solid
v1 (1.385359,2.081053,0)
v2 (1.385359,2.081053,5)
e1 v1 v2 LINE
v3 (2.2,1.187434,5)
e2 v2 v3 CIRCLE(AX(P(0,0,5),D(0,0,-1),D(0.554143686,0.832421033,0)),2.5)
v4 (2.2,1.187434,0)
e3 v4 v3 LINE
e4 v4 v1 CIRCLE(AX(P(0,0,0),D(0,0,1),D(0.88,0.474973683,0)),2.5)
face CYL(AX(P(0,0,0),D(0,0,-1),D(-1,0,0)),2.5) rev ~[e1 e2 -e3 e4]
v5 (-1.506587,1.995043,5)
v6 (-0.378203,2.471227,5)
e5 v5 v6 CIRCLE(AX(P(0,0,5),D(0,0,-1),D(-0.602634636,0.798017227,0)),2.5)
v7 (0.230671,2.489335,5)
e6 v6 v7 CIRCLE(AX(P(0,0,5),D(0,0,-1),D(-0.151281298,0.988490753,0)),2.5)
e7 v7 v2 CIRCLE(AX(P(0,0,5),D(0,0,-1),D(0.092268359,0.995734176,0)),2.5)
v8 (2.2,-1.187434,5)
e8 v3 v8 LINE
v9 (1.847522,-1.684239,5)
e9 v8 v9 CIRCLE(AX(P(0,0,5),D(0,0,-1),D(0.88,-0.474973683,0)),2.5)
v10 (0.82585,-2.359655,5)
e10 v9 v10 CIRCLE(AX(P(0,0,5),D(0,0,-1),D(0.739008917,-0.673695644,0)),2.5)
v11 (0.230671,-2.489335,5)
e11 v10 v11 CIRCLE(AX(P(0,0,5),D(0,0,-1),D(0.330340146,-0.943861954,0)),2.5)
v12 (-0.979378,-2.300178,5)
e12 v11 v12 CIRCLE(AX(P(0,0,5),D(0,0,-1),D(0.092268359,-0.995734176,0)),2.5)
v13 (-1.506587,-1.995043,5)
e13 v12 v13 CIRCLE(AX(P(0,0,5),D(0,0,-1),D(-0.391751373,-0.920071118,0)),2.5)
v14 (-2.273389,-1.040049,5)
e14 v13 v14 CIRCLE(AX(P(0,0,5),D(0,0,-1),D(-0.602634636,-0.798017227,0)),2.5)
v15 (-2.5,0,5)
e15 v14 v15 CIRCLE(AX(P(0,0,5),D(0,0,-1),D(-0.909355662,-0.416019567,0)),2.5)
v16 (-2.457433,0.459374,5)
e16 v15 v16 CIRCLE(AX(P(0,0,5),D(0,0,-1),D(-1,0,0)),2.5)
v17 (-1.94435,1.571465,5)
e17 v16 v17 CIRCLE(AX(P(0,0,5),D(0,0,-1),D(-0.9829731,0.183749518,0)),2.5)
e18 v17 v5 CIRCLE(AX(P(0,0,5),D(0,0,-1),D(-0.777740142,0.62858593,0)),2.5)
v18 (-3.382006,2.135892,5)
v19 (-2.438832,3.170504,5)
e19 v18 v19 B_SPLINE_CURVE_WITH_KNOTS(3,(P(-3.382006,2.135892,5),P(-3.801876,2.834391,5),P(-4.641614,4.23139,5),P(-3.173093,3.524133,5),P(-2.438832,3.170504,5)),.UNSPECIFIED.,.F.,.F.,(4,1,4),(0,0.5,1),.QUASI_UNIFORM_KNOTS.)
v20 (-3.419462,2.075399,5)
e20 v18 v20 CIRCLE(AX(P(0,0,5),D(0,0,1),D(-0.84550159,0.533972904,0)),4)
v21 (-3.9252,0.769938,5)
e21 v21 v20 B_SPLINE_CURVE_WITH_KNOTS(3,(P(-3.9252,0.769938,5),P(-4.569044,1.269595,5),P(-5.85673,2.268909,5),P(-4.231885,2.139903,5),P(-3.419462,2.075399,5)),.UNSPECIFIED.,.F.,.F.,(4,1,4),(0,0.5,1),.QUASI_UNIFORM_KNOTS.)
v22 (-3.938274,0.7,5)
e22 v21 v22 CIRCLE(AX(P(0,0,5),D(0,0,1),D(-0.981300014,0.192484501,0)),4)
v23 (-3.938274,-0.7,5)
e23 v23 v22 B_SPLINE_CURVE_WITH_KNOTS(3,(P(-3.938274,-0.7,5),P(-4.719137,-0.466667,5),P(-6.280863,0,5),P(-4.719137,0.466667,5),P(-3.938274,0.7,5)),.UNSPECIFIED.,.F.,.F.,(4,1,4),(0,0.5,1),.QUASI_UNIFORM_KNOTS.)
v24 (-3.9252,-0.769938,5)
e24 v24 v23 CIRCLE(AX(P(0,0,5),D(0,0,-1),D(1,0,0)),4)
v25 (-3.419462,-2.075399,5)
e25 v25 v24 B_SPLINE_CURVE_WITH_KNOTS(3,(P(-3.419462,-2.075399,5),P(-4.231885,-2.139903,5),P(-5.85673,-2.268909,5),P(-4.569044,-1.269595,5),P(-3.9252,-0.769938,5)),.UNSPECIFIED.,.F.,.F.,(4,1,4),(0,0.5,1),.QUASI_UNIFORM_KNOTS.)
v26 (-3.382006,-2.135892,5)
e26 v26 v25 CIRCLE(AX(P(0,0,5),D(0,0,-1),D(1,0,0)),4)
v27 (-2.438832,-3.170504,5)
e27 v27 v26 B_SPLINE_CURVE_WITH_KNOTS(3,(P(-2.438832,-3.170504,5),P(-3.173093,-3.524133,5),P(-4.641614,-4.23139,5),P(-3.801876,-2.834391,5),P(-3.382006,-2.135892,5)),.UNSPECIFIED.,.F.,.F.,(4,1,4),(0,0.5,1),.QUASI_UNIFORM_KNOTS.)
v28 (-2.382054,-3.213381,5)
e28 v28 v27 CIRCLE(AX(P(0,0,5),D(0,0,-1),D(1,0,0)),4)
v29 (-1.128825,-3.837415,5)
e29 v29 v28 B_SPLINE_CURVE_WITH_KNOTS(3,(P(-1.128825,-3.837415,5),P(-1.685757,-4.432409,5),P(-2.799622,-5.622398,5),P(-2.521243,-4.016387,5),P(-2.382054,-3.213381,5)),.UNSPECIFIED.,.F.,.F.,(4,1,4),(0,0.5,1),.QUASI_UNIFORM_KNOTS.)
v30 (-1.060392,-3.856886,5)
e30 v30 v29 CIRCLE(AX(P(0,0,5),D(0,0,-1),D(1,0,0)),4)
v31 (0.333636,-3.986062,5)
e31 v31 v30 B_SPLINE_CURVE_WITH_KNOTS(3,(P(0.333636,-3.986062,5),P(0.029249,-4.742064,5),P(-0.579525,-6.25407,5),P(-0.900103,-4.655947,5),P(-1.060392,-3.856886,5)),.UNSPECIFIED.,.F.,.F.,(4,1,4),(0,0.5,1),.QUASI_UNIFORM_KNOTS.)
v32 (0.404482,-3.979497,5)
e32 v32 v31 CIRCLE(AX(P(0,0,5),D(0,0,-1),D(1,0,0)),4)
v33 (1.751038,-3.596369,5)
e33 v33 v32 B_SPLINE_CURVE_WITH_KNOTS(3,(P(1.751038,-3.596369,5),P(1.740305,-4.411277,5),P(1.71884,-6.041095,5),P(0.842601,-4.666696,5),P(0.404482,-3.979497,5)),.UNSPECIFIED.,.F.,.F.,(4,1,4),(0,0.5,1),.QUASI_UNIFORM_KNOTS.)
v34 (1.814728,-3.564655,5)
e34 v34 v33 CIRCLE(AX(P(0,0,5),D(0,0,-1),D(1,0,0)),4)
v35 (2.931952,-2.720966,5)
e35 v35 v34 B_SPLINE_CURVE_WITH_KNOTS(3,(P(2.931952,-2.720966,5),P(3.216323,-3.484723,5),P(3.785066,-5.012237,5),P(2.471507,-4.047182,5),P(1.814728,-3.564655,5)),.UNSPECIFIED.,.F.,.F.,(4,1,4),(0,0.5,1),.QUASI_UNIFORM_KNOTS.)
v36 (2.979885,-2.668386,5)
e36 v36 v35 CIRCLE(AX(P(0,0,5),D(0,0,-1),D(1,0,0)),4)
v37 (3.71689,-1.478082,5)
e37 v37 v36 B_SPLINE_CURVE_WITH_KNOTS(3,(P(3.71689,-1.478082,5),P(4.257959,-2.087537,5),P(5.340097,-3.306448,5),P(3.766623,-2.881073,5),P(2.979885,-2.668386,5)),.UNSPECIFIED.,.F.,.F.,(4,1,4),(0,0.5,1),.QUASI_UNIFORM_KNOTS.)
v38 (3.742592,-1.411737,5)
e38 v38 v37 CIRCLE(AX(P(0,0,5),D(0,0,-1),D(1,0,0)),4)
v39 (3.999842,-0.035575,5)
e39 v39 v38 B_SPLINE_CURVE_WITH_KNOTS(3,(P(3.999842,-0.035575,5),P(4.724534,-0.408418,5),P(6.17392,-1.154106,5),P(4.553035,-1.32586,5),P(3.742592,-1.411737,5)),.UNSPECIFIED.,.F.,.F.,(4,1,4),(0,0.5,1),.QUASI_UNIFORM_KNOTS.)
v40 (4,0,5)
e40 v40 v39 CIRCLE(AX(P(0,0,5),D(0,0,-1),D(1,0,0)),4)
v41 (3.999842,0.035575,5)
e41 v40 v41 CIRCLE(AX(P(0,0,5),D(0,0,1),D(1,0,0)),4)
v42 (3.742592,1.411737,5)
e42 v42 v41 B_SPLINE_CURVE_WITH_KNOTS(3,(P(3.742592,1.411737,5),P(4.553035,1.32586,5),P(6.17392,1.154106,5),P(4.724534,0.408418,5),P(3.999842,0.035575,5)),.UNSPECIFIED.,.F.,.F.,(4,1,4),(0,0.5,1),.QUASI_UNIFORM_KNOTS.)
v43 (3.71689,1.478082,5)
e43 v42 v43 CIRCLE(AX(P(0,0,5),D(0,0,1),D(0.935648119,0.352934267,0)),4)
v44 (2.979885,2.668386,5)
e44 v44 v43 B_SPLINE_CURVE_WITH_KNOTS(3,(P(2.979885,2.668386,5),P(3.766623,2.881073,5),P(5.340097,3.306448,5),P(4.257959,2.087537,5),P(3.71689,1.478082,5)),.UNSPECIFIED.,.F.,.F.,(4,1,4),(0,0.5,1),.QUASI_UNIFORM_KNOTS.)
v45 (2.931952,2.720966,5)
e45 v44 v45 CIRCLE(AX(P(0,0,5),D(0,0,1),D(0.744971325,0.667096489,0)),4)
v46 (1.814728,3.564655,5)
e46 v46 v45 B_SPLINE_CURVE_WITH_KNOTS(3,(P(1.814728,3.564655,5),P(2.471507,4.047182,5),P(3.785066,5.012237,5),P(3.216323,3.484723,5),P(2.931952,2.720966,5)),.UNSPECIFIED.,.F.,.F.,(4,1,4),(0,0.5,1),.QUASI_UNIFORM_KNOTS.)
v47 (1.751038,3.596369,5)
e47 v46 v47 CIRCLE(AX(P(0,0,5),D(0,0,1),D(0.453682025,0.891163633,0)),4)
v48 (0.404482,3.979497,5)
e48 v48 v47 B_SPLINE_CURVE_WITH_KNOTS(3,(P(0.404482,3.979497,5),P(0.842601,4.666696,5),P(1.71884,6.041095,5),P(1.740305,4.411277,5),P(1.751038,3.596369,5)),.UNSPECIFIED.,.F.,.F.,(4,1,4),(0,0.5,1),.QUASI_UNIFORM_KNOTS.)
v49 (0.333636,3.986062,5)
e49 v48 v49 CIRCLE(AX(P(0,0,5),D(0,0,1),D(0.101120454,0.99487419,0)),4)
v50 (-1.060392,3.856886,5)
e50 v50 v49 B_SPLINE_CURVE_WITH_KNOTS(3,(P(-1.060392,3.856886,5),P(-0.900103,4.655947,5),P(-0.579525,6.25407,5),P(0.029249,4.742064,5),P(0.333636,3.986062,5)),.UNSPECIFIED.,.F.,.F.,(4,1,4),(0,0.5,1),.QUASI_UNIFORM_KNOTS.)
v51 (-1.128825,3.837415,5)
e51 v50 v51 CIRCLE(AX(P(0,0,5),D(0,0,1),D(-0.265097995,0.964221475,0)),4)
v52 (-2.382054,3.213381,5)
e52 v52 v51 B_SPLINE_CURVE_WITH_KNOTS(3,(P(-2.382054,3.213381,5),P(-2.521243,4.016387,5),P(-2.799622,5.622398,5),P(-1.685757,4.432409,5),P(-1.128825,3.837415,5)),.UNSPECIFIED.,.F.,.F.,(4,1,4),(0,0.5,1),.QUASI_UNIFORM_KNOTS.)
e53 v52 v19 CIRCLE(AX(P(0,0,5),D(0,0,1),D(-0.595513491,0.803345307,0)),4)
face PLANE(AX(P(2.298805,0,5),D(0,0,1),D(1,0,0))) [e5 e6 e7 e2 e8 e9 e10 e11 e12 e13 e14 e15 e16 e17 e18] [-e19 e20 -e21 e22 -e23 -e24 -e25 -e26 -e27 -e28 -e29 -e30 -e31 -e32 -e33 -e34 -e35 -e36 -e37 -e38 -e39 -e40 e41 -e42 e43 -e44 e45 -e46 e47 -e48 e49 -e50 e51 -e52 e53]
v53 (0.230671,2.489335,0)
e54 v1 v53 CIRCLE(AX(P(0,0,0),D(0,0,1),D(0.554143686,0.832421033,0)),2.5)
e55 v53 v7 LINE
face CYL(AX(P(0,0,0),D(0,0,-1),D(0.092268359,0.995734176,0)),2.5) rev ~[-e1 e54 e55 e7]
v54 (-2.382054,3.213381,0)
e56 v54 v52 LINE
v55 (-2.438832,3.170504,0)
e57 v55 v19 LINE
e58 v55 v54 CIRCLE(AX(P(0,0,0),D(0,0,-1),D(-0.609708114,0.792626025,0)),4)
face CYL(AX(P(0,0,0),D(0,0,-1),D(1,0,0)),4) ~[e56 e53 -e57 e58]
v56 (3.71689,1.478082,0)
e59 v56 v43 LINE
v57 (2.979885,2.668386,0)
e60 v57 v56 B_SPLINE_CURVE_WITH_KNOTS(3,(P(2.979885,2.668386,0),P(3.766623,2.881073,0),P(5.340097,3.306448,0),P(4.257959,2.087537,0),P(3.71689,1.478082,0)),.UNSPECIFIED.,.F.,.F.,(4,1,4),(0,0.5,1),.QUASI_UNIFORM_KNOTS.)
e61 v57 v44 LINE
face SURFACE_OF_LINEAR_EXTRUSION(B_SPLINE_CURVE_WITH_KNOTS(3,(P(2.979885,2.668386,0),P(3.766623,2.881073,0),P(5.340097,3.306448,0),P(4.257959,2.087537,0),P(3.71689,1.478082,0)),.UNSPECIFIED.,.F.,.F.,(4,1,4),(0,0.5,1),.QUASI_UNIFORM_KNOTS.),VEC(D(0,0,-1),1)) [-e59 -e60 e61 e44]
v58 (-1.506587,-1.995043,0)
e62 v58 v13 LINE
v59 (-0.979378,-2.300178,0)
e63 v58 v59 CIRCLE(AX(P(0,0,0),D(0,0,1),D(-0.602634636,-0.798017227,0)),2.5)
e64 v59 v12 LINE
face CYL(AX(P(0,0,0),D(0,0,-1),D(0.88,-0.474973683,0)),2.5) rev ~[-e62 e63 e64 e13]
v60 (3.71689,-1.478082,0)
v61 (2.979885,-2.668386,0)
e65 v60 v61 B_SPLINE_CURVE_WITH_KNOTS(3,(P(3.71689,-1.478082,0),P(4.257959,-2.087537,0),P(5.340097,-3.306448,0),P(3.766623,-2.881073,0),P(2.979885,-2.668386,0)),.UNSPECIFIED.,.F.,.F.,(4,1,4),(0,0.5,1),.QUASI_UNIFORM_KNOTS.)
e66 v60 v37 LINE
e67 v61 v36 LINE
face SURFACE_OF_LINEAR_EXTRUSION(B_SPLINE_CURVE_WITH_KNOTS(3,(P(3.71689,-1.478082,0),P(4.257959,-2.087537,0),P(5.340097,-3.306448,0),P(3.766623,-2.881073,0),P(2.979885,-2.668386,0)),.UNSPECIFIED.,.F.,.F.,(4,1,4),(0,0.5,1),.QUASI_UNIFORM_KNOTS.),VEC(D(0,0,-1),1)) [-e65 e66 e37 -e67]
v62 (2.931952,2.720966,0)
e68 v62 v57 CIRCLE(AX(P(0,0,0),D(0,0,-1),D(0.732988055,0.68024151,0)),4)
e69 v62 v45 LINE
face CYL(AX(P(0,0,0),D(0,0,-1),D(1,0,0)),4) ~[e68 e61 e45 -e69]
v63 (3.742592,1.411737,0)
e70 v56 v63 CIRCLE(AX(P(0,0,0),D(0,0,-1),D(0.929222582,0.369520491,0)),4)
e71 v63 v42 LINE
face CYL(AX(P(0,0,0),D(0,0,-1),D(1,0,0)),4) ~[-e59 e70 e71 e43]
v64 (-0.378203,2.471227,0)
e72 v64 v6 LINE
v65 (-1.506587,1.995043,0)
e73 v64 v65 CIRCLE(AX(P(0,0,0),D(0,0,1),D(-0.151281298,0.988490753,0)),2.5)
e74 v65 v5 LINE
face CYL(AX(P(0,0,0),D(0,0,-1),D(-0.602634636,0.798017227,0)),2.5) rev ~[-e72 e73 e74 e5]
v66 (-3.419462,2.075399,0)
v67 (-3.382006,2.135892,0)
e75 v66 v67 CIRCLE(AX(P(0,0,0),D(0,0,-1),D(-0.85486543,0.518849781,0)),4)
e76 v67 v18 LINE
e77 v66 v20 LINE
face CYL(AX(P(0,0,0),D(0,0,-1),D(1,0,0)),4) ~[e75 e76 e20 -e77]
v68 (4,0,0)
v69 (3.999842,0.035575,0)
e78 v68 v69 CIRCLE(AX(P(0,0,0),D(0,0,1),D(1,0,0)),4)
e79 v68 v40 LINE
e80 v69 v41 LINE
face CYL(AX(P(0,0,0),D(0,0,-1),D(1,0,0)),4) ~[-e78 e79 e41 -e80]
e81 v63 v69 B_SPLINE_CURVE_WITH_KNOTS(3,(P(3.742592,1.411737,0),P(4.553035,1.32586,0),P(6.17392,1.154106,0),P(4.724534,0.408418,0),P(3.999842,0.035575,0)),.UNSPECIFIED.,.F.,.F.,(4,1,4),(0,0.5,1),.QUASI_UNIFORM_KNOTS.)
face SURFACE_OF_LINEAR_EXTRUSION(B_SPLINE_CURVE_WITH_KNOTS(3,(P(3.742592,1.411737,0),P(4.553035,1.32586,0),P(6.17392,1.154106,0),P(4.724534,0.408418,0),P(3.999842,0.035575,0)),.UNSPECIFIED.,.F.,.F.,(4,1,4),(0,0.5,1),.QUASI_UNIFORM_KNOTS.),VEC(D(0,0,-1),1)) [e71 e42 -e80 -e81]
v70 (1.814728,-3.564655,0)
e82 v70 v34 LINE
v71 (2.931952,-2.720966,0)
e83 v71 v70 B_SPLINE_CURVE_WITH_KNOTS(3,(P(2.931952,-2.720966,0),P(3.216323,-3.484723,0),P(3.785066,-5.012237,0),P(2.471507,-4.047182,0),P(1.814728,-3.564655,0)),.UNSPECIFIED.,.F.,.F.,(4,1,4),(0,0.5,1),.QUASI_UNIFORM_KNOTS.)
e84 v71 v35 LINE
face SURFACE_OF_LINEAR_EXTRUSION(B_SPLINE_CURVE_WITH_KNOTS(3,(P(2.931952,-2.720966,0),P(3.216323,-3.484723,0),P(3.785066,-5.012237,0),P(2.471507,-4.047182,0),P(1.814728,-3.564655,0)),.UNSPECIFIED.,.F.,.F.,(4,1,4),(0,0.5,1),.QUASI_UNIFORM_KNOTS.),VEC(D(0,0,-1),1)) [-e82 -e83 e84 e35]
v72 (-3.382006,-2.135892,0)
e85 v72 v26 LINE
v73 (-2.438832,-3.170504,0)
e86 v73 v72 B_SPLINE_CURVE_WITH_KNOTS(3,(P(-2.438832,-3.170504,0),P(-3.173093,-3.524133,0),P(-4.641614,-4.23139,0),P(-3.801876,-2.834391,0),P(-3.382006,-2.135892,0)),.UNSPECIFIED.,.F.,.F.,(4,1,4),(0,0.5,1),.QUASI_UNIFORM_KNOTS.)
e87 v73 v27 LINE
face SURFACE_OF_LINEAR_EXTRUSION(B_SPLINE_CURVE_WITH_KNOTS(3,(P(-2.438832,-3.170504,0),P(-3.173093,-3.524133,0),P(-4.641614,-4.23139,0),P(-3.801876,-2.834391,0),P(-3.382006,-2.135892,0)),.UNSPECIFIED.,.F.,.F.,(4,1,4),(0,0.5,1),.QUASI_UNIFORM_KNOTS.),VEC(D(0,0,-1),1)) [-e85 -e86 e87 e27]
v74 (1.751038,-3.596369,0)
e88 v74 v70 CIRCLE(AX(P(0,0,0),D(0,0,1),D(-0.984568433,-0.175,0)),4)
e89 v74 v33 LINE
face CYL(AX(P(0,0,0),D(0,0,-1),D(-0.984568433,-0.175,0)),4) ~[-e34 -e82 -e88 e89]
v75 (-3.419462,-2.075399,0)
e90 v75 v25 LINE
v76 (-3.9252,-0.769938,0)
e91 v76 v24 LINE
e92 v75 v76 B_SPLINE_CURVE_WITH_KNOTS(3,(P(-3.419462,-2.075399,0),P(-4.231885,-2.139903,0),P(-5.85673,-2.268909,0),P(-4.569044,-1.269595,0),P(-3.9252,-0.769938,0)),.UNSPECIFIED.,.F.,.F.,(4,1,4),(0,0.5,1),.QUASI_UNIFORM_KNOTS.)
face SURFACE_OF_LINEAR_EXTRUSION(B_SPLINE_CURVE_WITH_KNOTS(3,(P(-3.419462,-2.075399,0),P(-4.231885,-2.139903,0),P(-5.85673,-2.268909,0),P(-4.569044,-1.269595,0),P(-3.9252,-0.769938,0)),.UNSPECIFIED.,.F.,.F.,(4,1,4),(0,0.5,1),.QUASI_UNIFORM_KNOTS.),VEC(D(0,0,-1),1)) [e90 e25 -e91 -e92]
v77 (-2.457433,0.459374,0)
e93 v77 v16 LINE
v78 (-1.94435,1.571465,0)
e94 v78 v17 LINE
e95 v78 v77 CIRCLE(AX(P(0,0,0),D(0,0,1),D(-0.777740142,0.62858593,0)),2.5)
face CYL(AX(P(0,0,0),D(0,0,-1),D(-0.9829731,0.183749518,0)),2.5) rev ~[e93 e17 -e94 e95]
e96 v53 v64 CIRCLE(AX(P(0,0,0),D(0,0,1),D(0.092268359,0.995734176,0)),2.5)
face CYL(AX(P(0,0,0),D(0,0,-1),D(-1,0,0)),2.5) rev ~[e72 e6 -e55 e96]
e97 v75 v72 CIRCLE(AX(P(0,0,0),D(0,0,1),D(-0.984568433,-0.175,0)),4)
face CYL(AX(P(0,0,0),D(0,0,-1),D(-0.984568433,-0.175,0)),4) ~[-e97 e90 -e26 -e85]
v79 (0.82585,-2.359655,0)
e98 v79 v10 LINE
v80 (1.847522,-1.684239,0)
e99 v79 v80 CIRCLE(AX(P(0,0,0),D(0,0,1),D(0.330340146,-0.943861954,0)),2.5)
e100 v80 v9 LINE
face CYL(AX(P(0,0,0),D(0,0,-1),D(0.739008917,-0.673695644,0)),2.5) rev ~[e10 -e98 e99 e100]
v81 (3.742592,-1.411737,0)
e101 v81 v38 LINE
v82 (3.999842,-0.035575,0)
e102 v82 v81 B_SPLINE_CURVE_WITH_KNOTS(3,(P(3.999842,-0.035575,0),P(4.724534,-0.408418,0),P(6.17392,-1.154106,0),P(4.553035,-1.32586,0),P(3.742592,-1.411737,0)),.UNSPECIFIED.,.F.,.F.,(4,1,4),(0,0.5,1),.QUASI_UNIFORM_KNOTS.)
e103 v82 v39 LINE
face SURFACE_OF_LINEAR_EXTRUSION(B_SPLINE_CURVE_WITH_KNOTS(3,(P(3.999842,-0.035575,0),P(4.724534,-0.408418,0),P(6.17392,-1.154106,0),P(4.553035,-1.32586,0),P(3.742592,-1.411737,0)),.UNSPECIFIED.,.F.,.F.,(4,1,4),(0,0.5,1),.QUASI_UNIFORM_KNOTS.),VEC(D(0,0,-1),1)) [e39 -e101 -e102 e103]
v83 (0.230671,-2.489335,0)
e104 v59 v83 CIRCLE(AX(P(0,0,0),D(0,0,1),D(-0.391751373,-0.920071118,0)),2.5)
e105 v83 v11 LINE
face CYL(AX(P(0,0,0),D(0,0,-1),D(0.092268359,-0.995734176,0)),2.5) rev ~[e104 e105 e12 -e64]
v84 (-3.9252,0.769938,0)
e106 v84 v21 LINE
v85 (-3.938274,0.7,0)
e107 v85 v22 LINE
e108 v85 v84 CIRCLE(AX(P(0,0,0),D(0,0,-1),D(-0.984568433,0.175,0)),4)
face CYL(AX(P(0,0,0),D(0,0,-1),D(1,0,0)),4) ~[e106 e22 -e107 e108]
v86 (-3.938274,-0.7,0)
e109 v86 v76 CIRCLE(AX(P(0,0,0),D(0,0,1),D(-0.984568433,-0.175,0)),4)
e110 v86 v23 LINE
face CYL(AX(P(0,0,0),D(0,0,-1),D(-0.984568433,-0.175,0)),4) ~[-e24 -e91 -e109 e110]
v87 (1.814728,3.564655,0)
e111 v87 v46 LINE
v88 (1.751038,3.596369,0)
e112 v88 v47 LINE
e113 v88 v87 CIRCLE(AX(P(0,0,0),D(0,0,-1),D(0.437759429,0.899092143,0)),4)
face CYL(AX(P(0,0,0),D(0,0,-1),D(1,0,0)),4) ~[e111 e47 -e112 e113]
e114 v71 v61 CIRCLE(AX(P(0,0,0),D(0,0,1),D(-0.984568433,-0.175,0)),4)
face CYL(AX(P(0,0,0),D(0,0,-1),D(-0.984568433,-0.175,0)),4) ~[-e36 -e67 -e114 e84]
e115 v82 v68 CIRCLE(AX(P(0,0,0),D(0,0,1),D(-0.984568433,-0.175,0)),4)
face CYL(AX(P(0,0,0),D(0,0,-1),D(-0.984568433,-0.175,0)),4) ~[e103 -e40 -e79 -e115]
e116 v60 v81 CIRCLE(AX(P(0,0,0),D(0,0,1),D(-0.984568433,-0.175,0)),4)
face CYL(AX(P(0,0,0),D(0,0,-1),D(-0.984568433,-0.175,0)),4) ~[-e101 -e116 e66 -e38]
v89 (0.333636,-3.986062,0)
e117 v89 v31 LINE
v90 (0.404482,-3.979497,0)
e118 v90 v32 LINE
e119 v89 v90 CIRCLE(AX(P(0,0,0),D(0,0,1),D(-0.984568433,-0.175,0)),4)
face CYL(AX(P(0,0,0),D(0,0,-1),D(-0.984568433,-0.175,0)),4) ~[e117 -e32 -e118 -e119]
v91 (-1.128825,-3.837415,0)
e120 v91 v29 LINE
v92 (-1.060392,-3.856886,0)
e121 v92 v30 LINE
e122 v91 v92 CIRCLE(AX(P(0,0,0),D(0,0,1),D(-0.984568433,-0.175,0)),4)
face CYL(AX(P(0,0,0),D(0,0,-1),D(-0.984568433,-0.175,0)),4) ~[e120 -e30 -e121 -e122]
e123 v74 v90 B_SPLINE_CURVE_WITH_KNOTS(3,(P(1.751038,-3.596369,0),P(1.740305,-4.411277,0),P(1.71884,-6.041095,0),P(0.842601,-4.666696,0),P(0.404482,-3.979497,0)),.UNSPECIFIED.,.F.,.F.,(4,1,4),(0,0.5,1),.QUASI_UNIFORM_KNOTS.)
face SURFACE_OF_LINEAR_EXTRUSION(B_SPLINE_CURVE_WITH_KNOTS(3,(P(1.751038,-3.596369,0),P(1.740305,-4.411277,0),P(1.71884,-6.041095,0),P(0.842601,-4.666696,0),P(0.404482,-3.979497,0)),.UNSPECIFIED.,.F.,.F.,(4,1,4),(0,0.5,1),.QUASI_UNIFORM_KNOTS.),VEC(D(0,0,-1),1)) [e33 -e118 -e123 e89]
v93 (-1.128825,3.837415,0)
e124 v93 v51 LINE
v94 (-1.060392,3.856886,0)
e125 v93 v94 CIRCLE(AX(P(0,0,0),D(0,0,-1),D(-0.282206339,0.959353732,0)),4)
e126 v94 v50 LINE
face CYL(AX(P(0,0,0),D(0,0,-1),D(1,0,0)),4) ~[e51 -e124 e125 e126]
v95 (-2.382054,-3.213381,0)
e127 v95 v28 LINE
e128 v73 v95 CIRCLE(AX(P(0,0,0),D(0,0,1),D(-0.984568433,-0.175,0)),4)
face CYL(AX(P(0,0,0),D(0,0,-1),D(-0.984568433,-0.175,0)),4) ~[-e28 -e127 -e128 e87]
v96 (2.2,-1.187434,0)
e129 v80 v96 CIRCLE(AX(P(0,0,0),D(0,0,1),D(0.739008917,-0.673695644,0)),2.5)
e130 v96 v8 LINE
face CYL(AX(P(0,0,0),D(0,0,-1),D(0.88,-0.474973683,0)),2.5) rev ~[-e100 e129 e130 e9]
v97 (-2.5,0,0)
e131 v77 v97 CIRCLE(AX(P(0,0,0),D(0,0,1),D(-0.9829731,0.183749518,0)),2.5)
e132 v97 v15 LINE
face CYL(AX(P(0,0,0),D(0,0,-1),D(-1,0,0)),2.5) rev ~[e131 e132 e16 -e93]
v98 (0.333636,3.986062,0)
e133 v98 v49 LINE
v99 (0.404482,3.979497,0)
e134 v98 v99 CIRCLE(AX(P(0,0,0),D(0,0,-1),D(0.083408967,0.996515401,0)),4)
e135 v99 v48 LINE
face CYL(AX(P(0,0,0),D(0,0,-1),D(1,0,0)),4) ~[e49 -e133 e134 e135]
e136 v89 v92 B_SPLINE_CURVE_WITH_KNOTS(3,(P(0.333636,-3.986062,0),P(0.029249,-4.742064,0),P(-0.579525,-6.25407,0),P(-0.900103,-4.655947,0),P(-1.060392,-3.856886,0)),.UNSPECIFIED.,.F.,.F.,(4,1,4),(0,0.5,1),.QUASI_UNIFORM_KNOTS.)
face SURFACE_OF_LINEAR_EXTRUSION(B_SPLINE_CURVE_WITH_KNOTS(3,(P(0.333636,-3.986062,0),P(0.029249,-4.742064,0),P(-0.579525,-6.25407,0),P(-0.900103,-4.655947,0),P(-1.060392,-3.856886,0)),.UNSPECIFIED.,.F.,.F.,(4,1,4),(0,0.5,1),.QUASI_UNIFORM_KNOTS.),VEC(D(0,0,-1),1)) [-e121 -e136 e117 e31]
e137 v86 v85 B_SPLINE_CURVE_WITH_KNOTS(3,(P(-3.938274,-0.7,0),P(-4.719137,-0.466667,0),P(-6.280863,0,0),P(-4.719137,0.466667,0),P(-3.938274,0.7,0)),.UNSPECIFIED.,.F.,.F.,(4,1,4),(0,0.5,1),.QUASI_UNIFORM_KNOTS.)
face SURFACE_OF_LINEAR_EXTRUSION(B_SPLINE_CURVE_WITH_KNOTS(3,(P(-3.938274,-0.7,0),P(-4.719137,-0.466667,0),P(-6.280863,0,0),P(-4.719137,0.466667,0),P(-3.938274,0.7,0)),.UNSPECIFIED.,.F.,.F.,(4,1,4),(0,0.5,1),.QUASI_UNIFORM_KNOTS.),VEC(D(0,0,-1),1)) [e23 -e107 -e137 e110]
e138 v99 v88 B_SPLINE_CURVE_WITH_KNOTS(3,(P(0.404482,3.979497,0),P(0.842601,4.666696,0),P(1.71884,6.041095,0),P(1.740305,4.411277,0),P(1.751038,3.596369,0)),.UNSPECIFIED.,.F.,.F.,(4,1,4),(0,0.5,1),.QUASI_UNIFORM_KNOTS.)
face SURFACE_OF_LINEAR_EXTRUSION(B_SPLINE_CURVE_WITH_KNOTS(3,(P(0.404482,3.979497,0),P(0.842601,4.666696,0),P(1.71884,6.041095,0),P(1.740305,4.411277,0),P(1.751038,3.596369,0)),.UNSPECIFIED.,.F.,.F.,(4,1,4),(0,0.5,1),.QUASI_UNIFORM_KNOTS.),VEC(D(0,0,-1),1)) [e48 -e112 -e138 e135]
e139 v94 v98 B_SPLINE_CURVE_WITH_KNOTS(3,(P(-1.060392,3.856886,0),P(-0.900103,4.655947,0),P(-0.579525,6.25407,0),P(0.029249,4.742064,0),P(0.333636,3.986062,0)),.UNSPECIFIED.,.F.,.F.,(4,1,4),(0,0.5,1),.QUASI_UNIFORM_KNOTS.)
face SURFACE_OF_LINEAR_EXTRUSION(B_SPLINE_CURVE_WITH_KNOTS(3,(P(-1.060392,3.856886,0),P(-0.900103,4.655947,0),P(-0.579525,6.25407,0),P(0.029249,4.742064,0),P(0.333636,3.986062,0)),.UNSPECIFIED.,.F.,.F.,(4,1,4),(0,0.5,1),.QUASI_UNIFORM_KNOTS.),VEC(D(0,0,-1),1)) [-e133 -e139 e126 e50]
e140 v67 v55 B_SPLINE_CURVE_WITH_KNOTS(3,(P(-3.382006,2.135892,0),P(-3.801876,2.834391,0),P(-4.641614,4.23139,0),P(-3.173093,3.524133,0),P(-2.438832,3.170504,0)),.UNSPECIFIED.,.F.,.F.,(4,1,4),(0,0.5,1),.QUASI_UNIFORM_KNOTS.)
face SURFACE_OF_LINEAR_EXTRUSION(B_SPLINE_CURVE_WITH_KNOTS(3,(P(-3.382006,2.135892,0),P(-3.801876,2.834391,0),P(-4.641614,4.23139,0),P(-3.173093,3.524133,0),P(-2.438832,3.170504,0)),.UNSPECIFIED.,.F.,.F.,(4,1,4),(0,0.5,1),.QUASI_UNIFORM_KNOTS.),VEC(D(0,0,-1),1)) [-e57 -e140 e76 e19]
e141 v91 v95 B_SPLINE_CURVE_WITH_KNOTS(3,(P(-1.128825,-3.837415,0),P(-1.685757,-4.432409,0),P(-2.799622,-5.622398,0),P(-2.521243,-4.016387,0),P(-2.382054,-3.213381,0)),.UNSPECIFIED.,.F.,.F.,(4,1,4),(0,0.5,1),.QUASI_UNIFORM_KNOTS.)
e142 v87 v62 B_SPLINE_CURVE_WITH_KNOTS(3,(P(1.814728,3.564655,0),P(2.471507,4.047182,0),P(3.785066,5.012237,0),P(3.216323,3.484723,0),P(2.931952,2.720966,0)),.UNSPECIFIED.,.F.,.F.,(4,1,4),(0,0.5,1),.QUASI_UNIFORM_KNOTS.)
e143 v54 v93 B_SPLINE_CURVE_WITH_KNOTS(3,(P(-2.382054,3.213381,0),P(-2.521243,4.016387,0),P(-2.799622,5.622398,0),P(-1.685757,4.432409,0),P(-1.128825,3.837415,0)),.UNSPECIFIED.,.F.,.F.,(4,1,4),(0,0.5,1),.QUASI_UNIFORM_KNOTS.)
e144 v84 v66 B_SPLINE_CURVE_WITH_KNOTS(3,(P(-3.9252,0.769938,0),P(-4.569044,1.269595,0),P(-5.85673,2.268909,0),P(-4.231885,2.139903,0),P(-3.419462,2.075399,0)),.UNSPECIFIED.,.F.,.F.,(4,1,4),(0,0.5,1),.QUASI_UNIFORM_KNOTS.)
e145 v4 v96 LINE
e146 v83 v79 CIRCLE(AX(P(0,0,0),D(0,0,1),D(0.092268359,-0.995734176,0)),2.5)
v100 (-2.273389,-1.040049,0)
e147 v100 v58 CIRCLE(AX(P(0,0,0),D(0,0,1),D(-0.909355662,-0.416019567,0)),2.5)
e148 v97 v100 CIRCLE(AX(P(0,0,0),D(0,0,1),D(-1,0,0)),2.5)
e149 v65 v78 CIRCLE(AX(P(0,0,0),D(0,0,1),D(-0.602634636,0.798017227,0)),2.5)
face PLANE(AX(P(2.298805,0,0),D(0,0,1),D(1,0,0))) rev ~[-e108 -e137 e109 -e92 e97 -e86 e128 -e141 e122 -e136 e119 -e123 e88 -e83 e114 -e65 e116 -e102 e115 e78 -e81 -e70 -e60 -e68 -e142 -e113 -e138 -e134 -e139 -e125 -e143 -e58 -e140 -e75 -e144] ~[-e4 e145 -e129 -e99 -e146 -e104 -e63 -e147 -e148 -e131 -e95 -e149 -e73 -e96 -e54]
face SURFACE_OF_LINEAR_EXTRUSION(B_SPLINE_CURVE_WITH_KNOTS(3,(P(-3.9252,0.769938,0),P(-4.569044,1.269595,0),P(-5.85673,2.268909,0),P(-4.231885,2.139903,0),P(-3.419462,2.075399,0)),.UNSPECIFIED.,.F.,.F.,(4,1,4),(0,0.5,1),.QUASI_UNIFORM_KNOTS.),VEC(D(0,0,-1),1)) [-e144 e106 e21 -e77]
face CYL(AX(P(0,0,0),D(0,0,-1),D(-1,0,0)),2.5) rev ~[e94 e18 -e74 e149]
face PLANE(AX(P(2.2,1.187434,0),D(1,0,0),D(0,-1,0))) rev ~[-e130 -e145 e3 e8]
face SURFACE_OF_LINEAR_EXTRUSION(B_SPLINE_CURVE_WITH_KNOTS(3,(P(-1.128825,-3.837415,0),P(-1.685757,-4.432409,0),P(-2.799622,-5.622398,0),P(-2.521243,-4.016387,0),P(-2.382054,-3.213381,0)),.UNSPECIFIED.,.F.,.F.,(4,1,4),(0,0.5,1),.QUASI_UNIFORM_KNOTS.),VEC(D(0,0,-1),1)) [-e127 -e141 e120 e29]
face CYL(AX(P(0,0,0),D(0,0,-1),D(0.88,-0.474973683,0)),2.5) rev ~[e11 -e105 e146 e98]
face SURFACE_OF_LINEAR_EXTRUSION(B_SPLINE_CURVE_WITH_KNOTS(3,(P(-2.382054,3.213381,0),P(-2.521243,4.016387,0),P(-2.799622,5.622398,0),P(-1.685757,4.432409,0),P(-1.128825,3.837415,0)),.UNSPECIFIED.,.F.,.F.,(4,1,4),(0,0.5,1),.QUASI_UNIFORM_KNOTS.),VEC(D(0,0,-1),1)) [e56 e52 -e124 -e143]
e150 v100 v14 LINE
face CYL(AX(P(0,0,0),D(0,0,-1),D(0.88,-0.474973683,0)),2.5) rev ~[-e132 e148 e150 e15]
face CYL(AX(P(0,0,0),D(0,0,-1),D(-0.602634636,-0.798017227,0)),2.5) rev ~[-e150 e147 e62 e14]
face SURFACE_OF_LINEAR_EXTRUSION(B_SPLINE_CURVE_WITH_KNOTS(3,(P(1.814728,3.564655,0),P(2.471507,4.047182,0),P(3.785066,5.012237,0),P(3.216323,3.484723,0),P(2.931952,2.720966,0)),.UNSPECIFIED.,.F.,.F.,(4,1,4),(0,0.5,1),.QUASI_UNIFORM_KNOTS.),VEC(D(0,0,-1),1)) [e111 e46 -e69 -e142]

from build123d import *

# Parameters (mm, degrees)
F1_DEPTH = 5
F2_COUNT = 17
F3_DEPTH = 5


with BuildPart() as f1:
    # F0 (on Top) → F1 (new body)
    with BuildSketch(Plane.XY):
        with BuildLine():
            ThreePointArc((-3.9382737335, -0.7), (0.3513581264, -3.9845385513), (4, 0))
            ThreePointArc((4, 0), (0.3513581264, 3.9845385513), (-3.9382737335, 0.7))
            ThreePointArc((-3.9382737335, 0.7), (-4, 0), (-3.9382737335, -0.7))
        make_face()
        with BuildLine():
            ThreePointArc((2.2, 1.1874342087), (2.4238399287, 0.6123724357), (2.5, 0))
            ThreePointArc((2.5, 0), (2.4238399287, -0.6123724357), (2.2, -1.1874342087))
            ThreePointArc((2.2, -1.1874342087), (-0.6123724357, -2.4238399287), (-2.5, 0))
            ThreePointArc((-2.5, 0), (-0.6123724357, 2.4238399287), (2.2, 1.1874342087))
        make_face(mode=Mode.SUBTRACT)
        with BuildLine():
            ThreePointArc((-3.9382737335, -0.7), (-4, 0), (-3.9382737335, 0.7))
            add(Edge.make_bspline(
                [(-3.9382737335, -0.7), (-4.7191368668, -0.4666666667), (-6.2808631332, 0), (-4.7191368668, 0.4666666667), (-3.9382737335, 0.7)],
                knots=[0, 0, 0, 0, 0.5, 1, 1, 1, 1], degree=3))
        make_face()
    extrude(amount=F1_DEPTH)


with BuildPart() as f2_1:
    # F2: instance of F1
    add(f1.part.rotate(Axis((0, 0, 5), (0, 0, -1)), 1 * 360 / F2_COUNT))


with BuildPart() as f2_2:
    # F2: instance of F1
    add(f1.part.rotate(Axis((0, 0, 5), (0, 0, -1)), 2 * 360 / F2_COUNT))


with BuildPart() as f2_3:
    # F2: instance of F1
    add(f1.part.rotate(Axis((0, 0, 5), (0, 0, -1)), 3 * 360 / F2_COUNT))


with BuildPart() as f2_4:
    # F2: instance of F1
    add(f1.part.rotate(Axis((0, 0, 5), (0, 0, -1)), 4 * 360 / F2_COUNT))


with BuildPart() as f2_5:
    # F2: instance of F1
    add(f1.part.rotate(Axis((0, 0, 5), (0, 0, -1)), 5 * 360 / F2_COUNT))


with BuildPart() as f2_6:
    # F2: instance of F1
    add(f1.part.rotate(Axis((0, 0, 5), (0, 0, -1)), 6 * 360 / F2_COUNT))


with BuildPart() as f2_7:
    # F2: instance of F1
    add(f1.part.rotate(Axis((0, 0, 5), (0, 0, -1)), 7 * 360 / F2_COUNT))


with BuildPart() as f2_8:
    # F2: instance of F1
    add(f1.part.rotate(Axis((0, 0, 5), (0, 0, -1)), 8 * 360 / F2_COUNT))


with BuildPart() as f2_9:
    # F2: instance of F1
    add(f1.part.rotate(Axis((0, 0, 5), (0, 0, -1)), 9 * 360 / F2_COUNT))


with BuildPart() as f2_10:
    # F2: instance of F1
    add(f1.part.rotate(Axis((0, 0, 5), (0, 0, -1)), 10 * 360 / F2_COUNT))


with BuildPart() as f2_11:
    # F2: instance of F1
    add(f1.part.rotate(Axis((0, 0, 5), (0, 0, -1)), 11 * 360 / F2_COUNT))


with BuildPart() as f2_12:
    # F2: instance of F1
    add(f1.part.rotate(Axis((0, 0, 5), (0, 0, -1)), 12 * 360 / F2_COUNT))


with BuildPart() as f2_13:
    # F2: instance of F1
    add(f1.part.rotate(Axis((0, 0, 5), (0, 0, -1)), 13 * 360 / F2_COUNT))


with BuildPart() as f2_14:
    # F2: instance of F1
    add(f1.part.rotate(Axis((0, 0, 5), (0, 0, -1)), 14 * 360 / F2_COUNT))


with BuildPart() as f2_15:
    # F2: instance of F1
    add(f1.part.rotate(Axis((0, 0, 5), (0, 0, -1)), 15 * 360 / F2_COUNT))


with BuildPart() as f2_16:
    # F2: instance of F1
    add(f1.part.rotate(Axis((0, 0, 5), (0, 0, -1)), 16 * 360 / F2_COUNT))


with BuildPart() as f1_1:
    add(f1.part)

    add(f2_1.part)  # F3 merges F2_1

    add(f2_2.part)  # F3 merges F2_2

    add(f2_3.part)  # F3 merges F2_3

    add(f2_4.part)  # F3 merges F2_4

    add(f2_5.part)  # F3 merges F2_5

    add(f2_6.part)  # F3 merges F2_6

    add(f2_7.part)  # F3 merges F2_7

    add(f2_8.part)  # F3 merges F2_8

    add(f2_9.part)  # F3 merges F2_9

    add(f2_10.part)  # F3 merges F2_10

    add(f2_11.part)  # F3 merges F2_11

    add(f2_12.part)  # F3 merges F2_12

    add(f2_13.part)  # F3 merges F2_13

    add(f2_14.part)  # F3 merges F2_14

    add(f2_15.part)  # F3 merges F2_15

    add(f2_16.part)  # F3 merges F2_16
    # F0 (on Top) → F3 (join)
    with BuildSketch(Plane.XY):
        with BuildLine():
            ThreePointArc((2.2, -1.1874342087), (2.4238399287, -0.6123724357), (2.5, 0))
            ThreePointArc((2.5, 0), (2.4238399287, 0.6123724357), (2.2, 1.1874342087))
            Line((2.2, 1.1874342087), (2.2, 0))
            Line((2.2, 0), (2.2, -1.1874342087))
        make_face()
    extrude(amount=F3_DEPTH)


solid = f1_1.part
